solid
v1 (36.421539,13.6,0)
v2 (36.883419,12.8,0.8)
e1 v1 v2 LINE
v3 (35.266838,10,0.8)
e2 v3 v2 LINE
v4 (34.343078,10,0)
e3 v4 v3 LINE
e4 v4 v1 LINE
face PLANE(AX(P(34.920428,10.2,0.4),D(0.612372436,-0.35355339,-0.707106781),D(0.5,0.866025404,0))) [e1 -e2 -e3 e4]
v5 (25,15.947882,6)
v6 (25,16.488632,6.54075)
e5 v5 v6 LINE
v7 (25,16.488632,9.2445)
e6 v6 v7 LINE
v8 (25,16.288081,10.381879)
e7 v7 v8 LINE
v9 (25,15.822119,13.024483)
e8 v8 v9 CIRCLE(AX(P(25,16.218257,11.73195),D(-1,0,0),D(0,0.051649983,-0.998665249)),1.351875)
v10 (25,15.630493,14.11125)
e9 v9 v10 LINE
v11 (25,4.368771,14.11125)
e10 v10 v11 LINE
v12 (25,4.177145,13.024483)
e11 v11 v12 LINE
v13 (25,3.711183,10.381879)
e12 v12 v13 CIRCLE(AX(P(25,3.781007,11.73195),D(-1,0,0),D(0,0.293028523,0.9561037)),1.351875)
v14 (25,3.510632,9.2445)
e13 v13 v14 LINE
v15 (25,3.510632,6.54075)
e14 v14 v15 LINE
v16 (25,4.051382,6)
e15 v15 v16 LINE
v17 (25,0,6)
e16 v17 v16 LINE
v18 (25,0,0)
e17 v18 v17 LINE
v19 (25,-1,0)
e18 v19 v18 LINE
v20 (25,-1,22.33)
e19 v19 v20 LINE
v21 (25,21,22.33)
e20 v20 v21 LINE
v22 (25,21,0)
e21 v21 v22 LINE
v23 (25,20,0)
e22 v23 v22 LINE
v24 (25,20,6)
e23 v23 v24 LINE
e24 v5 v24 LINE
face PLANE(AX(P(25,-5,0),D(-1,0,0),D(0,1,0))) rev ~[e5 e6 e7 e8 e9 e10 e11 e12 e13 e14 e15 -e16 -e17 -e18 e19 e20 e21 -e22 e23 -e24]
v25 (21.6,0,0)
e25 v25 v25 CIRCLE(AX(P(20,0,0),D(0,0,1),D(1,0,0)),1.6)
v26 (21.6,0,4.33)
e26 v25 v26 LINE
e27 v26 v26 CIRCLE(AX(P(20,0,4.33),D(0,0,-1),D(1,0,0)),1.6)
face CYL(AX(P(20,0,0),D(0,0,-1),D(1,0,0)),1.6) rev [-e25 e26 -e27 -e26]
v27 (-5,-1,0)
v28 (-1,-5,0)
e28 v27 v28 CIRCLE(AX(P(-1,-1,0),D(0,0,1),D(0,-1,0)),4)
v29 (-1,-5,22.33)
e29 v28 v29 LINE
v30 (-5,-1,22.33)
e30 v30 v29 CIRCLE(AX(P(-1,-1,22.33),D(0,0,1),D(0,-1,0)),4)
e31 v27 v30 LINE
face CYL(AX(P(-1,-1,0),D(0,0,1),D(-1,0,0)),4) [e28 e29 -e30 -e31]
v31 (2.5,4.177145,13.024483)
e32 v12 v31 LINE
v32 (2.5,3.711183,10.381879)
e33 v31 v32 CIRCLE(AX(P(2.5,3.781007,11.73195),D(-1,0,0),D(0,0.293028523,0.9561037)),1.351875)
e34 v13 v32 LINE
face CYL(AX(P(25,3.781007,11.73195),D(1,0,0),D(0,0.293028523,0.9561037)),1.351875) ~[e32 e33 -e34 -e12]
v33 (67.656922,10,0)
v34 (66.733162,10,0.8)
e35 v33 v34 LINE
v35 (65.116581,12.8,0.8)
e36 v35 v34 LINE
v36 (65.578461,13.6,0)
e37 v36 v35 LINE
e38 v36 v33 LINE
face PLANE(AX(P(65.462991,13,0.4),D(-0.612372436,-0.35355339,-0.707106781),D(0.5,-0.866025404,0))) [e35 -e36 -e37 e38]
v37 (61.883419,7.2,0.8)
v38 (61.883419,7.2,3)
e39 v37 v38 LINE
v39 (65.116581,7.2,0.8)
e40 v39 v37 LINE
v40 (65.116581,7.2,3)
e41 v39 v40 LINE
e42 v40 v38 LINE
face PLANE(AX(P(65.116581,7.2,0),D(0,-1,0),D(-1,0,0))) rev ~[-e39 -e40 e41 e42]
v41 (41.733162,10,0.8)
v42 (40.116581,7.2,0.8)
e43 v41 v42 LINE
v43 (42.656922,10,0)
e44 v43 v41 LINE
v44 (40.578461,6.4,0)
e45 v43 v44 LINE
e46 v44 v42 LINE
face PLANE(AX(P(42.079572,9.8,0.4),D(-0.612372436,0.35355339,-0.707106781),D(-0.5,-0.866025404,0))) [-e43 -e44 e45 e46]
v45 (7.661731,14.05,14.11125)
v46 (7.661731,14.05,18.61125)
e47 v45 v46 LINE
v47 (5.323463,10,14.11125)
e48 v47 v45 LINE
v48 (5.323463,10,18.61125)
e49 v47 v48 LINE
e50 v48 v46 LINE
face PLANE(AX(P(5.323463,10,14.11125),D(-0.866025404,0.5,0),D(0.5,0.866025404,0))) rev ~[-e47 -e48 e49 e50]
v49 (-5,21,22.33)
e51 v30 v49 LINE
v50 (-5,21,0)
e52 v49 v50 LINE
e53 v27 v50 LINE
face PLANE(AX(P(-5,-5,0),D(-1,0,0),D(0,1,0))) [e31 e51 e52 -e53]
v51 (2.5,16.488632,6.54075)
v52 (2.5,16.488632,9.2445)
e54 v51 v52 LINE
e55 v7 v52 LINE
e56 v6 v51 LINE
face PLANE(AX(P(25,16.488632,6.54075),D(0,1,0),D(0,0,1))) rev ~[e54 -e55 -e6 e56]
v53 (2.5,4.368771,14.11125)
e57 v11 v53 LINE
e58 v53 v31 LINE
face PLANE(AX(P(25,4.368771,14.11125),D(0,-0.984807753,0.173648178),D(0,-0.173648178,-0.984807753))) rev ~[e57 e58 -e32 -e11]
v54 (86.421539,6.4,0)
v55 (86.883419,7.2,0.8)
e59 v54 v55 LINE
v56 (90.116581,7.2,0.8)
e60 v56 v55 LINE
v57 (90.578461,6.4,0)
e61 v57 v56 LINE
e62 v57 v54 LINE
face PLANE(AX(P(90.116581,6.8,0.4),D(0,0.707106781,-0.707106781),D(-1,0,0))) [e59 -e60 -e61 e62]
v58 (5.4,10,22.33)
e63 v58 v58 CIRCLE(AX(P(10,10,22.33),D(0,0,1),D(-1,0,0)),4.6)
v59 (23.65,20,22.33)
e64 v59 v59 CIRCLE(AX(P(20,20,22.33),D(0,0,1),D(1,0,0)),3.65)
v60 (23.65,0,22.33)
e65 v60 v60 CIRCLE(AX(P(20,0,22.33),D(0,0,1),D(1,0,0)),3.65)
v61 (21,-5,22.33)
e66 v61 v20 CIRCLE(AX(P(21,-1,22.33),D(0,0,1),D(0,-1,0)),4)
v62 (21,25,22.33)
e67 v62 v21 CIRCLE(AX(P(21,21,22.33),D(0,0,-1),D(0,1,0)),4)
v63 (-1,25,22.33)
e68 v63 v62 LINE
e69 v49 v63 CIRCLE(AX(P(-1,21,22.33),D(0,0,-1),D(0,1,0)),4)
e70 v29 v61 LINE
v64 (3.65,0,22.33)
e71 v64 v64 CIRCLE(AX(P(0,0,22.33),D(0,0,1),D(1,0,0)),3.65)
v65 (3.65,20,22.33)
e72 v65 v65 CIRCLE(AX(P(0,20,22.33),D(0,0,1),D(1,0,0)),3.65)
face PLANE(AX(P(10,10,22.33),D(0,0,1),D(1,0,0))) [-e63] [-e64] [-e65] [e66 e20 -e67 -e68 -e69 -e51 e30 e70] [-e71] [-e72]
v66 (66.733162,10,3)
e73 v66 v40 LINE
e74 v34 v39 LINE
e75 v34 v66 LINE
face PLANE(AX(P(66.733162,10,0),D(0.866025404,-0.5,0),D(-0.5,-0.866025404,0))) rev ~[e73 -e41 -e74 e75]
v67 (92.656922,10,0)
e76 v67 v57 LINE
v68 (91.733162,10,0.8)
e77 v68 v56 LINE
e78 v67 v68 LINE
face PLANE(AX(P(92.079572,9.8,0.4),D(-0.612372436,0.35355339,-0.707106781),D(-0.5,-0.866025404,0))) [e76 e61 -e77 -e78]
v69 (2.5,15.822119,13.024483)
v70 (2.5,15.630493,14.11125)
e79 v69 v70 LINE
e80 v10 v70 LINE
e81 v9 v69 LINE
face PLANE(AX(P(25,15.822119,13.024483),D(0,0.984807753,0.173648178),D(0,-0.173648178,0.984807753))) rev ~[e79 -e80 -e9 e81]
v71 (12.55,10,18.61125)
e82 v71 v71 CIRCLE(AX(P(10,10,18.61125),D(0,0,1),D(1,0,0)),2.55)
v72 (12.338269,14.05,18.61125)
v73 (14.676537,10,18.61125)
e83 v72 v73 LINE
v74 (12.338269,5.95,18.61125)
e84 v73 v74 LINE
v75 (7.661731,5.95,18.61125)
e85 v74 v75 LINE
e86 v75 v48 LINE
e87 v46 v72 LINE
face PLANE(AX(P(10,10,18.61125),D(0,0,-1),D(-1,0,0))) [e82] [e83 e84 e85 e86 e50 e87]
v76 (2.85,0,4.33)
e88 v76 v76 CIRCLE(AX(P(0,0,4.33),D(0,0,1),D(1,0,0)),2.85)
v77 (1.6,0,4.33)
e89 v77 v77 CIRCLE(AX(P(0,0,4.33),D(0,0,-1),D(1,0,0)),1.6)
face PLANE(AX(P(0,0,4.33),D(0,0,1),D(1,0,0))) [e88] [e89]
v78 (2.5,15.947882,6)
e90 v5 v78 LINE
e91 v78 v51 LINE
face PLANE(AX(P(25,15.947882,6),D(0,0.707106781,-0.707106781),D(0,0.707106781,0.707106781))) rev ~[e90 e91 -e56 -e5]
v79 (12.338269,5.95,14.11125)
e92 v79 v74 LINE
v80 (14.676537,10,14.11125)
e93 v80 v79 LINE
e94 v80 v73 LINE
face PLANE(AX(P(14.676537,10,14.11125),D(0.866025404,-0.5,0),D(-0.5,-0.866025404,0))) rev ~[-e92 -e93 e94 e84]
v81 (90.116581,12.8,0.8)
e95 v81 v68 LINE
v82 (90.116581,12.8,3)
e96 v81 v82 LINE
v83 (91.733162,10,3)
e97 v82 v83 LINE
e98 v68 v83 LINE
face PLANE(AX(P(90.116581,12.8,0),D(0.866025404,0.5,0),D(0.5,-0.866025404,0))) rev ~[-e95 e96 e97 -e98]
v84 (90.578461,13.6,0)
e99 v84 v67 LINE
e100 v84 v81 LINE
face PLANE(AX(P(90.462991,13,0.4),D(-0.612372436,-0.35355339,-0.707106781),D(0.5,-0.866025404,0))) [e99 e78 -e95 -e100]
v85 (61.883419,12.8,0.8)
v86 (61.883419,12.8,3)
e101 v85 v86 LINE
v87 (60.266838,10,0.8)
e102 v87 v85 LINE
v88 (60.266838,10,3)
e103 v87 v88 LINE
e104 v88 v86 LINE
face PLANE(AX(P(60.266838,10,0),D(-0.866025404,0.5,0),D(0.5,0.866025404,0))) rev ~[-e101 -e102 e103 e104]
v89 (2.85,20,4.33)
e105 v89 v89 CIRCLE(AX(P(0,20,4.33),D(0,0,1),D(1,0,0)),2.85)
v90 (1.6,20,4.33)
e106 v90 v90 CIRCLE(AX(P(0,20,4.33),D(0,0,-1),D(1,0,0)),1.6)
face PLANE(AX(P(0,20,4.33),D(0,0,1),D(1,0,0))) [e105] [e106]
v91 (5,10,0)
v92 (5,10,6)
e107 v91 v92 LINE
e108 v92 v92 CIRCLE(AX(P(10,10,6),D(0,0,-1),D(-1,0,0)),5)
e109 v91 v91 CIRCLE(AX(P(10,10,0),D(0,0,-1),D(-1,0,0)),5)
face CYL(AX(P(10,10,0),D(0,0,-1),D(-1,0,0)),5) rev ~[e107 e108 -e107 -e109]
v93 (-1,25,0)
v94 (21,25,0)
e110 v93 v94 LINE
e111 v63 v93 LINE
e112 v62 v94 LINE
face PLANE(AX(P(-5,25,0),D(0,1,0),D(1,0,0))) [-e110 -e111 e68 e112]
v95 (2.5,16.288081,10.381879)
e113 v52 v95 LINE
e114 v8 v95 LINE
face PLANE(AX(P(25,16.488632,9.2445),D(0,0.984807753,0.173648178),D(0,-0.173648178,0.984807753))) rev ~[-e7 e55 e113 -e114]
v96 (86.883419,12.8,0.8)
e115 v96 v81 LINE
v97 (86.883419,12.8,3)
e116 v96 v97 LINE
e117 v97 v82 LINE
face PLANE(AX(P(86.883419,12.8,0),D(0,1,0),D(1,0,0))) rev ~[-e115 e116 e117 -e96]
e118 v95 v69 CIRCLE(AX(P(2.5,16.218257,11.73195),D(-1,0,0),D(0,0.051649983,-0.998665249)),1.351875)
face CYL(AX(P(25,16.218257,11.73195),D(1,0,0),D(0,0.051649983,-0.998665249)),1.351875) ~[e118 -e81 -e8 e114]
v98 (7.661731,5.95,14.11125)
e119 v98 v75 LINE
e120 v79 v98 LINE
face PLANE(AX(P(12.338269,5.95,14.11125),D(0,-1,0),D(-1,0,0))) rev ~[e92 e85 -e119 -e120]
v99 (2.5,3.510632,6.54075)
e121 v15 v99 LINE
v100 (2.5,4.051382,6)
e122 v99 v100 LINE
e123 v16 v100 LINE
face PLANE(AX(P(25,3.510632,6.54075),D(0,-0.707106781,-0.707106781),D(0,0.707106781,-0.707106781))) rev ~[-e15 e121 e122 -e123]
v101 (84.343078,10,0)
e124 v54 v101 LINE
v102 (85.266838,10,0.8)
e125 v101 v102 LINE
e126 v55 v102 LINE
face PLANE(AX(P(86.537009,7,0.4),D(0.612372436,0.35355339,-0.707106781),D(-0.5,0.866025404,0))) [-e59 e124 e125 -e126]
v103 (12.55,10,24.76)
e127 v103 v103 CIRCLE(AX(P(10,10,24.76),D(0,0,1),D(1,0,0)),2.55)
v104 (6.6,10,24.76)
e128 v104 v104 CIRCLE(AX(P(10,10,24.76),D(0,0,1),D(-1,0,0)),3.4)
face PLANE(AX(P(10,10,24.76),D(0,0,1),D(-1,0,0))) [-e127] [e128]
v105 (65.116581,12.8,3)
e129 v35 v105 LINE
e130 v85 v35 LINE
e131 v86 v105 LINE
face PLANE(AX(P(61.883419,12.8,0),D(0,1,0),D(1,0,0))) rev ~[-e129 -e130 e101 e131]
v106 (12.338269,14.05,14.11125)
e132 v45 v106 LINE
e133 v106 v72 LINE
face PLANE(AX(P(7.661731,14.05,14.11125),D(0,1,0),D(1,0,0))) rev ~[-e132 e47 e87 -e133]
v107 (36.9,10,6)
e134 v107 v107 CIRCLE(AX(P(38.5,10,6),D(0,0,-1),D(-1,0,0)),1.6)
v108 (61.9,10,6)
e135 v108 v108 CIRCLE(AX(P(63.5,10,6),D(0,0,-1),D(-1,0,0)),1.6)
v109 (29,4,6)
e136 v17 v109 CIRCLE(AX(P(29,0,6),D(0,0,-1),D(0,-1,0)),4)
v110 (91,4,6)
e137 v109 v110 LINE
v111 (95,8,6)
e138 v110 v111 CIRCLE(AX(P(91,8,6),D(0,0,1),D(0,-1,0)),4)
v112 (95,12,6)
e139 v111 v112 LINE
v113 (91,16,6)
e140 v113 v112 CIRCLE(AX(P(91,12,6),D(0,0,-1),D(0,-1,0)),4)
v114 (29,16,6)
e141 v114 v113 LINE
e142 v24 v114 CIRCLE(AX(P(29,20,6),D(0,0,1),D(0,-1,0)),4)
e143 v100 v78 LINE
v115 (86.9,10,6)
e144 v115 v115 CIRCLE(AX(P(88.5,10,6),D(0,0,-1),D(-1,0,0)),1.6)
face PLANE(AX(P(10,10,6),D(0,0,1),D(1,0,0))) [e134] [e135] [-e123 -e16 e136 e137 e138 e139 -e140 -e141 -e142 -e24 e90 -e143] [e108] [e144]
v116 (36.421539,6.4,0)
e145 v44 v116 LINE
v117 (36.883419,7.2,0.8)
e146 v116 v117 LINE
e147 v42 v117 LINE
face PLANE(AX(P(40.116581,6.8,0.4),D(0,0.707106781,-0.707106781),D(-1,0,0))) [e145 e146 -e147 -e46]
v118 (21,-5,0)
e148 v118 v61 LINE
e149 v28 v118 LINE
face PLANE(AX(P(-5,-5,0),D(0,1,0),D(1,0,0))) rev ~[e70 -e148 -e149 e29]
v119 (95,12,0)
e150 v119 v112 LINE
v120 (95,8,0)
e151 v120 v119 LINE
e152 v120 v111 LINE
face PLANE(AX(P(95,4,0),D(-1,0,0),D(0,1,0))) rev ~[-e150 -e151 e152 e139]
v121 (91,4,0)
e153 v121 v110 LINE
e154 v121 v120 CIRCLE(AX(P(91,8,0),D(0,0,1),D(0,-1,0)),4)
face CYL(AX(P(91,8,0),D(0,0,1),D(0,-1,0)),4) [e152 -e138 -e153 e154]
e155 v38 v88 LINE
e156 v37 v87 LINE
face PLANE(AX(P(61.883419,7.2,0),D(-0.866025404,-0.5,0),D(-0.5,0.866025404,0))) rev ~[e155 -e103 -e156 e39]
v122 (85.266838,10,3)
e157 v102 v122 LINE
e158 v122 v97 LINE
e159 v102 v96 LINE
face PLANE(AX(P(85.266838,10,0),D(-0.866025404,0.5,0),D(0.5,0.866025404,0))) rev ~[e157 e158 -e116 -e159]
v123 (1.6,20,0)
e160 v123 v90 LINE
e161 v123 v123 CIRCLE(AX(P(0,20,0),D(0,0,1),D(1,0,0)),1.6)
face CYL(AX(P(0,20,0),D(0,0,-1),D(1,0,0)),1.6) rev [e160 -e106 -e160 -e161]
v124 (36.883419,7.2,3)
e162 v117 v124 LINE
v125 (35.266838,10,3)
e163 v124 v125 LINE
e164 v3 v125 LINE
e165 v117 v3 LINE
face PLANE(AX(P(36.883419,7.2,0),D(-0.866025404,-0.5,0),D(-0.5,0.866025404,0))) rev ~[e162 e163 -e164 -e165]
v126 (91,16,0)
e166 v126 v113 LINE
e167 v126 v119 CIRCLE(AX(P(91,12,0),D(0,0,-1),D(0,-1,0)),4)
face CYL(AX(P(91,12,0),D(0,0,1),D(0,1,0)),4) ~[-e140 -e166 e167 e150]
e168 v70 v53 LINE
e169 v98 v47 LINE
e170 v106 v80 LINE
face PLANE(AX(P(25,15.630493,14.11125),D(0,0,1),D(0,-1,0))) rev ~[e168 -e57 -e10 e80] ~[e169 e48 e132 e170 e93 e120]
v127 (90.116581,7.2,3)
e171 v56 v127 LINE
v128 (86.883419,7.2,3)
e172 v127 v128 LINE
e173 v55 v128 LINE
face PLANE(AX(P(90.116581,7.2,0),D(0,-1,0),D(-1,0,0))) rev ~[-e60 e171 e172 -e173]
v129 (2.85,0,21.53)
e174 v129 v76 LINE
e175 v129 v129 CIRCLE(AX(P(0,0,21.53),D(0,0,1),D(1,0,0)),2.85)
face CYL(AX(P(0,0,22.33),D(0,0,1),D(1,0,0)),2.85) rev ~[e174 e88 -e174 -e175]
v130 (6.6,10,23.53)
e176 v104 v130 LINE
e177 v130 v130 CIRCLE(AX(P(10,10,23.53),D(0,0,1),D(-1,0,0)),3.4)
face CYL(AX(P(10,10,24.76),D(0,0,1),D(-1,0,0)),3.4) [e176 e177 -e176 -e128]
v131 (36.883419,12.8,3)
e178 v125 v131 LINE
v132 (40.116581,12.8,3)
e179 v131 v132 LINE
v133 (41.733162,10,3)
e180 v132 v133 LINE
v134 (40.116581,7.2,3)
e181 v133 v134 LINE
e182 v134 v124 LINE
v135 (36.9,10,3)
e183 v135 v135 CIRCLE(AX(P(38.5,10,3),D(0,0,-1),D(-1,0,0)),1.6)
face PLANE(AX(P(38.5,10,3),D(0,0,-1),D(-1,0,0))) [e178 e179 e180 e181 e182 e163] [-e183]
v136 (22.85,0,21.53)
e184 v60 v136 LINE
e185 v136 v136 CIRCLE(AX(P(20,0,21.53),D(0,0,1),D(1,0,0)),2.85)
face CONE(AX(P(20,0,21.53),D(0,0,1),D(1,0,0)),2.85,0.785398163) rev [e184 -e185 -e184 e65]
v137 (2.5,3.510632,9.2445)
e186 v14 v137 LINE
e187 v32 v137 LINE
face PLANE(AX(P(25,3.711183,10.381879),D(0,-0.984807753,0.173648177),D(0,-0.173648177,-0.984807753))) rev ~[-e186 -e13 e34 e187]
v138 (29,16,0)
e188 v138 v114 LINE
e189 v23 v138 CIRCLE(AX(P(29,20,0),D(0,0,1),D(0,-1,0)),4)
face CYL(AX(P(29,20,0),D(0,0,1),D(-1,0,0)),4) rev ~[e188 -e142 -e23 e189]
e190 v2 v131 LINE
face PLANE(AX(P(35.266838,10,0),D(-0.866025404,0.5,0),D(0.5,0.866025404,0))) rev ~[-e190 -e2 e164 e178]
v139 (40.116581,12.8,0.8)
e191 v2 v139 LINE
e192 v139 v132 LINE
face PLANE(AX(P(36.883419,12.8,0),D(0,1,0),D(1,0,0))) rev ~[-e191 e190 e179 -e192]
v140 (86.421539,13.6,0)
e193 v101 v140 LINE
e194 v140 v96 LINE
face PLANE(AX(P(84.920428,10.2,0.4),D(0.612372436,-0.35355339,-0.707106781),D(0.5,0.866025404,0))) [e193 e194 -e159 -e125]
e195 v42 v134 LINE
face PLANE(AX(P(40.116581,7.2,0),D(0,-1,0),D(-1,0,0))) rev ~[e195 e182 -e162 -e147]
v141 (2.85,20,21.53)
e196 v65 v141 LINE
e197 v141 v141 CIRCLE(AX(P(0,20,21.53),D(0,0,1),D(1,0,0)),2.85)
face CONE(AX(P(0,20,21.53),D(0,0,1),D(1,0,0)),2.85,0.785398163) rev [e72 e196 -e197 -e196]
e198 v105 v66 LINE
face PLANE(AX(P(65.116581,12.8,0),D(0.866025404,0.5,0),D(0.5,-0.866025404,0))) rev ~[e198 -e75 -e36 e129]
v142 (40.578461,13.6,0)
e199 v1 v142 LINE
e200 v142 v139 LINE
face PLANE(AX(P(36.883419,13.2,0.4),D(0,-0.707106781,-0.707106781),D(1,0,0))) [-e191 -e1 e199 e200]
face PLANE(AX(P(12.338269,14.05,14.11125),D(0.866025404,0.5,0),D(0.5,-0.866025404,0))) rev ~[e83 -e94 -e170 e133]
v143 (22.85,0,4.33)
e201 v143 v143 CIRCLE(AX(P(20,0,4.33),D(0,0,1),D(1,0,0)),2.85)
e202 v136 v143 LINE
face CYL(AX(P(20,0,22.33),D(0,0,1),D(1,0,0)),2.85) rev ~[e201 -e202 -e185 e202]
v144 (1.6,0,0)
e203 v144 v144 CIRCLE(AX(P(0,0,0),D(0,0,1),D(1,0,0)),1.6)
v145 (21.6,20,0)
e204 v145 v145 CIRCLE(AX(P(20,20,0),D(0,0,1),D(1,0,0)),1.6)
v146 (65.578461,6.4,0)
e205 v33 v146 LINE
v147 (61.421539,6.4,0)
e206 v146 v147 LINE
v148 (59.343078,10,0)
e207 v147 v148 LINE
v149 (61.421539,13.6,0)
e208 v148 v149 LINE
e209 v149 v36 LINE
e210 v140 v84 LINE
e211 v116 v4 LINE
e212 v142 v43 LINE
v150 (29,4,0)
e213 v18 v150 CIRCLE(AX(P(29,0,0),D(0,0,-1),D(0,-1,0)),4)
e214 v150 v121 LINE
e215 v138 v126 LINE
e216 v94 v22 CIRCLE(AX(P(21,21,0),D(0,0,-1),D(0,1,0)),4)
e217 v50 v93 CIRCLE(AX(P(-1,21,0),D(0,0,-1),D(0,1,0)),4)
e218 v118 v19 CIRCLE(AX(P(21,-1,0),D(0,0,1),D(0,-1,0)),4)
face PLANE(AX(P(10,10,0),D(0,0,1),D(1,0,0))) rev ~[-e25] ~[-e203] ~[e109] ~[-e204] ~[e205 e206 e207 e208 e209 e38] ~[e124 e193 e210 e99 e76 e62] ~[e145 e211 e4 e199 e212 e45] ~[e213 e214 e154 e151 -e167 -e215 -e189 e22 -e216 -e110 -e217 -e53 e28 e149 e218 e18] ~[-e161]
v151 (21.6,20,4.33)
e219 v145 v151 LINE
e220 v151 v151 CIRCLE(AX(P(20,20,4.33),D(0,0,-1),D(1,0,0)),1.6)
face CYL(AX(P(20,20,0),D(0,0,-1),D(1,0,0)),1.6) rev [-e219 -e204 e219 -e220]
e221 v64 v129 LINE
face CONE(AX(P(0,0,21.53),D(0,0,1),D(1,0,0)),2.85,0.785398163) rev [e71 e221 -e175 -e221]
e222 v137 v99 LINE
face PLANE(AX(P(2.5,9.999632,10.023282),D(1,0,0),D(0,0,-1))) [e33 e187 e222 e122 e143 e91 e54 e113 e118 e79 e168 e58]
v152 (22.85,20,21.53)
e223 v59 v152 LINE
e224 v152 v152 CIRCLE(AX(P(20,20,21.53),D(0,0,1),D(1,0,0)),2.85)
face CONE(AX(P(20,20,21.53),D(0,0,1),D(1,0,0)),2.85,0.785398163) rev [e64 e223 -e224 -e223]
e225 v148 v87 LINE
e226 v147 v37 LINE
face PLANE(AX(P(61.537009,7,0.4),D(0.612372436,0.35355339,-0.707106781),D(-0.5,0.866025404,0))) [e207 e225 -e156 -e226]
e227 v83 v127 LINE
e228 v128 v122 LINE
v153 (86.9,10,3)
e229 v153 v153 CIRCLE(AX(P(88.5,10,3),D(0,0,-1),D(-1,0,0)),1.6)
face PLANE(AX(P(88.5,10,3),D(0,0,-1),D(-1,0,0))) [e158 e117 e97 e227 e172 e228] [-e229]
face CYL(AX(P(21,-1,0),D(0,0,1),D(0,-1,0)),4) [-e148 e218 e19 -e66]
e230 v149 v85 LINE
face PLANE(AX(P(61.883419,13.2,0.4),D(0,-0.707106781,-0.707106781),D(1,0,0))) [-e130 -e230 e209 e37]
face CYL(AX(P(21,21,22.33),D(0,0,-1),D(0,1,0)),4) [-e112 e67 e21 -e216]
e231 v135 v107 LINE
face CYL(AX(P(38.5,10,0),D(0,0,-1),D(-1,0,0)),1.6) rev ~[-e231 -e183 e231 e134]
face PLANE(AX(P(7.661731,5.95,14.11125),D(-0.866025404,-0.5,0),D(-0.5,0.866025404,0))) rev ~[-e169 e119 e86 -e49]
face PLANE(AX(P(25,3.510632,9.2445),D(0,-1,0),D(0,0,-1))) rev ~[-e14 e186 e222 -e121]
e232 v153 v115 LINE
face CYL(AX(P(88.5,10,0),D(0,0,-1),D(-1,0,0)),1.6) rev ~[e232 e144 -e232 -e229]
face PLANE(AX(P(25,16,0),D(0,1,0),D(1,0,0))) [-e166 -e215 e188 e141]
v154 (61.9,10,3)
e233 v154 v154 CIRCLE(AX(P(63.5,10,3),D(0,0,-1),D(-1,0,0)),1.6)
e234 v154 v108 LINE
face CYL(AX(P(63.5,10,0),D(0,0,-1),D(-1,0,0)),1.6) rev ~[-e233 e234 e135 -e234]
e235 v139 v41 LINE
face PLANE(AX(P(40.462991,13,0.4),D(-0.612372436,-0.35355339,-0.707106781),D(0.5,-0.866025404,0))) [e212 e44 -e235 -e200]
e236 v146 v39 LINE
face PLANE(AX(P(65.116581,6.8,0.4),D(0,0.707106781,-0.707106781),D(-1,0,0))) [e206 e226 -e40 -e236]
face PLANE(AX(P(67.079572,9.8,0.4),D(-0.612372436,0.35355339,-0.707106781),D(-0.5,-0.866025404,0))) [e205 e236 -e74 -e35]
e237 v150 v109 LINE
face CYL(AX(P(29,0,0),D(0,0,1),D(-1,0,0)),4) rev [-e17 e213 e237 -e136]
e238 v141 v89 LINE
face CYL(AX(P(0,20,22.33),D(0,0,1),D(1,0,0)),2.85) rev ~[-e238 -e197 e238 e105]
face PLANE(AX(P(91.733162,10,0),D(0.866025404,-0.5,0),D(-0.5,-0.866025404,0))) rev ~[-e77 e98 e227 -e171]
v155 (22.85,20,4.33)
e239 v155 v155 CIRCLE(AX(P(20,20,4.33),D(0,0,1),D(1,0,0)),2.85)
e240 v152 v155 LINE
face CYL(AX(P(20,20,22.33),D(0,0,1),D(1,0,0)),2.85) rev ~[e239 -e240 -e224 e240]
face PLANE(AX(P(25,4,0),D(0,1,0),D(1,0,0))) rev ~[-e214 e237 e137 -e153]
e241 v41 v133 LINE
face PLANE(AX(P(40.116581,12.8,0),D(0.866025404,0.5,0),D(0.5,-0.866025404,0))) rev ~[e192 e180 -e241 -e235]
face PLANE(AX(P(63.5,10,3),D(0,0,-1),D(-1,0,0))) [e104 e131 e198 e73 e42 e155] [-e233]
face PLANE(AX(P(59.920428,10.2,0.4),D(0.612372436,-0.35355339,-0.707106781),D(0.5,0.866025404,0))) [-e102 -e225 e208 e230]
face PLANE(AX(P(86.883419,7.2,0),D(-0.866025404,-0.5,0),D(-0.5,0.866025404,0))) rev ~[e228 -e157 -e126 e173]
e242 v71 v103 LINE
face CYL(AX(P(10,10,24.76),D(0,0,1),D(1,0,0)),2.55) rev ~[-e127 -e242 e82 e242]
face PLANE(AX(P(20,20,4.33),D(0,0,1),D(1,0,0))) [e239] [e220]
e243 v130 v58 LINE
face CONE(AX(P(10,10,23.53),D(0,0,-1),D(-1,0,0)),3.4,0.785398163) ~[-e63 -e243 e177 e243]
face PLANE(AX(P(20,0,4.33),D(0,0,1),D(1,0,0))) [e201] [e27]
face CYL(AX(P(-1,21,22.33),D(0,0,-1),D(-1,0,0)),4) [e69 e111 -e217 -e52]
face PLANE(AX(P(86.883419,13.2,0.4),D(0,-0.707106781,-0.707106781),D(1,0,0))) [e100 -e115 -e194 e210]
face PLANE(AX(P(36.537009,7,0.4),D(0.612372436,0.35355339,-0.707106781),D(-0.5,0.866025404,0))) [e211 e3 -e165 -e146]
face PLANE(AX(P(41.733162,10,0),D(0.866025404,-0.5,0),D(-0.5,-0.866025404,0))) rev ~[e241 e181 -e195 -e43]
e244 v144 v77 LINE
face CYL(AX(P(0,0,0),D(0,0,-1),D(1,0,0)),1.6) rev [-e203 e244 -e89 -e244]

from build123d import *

# Parameters (mm, degrees)
SKETCH1_R                  = 1.6
BOSS_EXTRUDE1_DEPTH        = 6
SKETCH1_3_R                = 1.6
BOSS_EXTRUDE2_DEPTH        = 22.33
CUT_EXTRUDE1_DEPTH         = 22.5
SKETCH3_R                  = 2.55
CUT_EXTRUDE2_DEPTH         = 8
CUT_EXTRUDE3_DEPTH         = 4.5
SKETCH6_R                  = 5
CUT_EXTRUDE5_DEPTH         = 8.6
SKETCH7_R                  = 1.6
CUT_EXTRUDE6_DEPTH         = 101.740403513
SKETCH8_R                  = 2.85
CUT_EXTRUDE7_DEPTH         = 18
BOSS_EXTRUDE3_START        = 2.43
SKETCH9_R                  = 3.4
SKETCH9_R_2                = 2.55
BOSS_EXTRUDE3_DEPTH        = 2.43
CHAMFER1_SIZE              = 1.2
FILLET3_R                  = 4
CHAMFER2_SIZE              = 0.8
CUT_EXTRUDE8_DEPTH         = 3
CHAMFER3_SIZE              = 0.8
LPATTERN1_COUNT            = 3
LPATTERN1_PITCH            = 25
CHAMFER3_OF_LPATTERN1_SIZE = 0.8


with BuildPart() as part:
    # Sketch1 → Boss-Extrude1 (new body)
    with BuildSketch(Plane.XY):
        Polygon((-5, 25), (-5, -5), (25, -5), (25, 4), (95, 4), (95, 16), (25, 16), (25, 25), align=None)
        Circle(SKETCH1_R, mode=Mode.SUBTRACT)
        with Locations((20, 0)):
            Circle(SKETCH1_R, mode=Mode.SUBTRACT)
        with Locations((0, 20)):
            Circle(SKETCH1_R, mode=Mode.SUBTRACT)
        with Locations((20, 20)):
            Circle(SKETCH1_R, mode=Mode.SUBTRACT)
    extrude(amount=BOSS_EXTRUDE1_DEPTH)

    # Sketch1<3> → Boss-Extrude2 (add)
    with BuildSketch(Plane.XY):
        Polygon((-5, 25), (-5, -5), (25, -5), (25, 4), (25, 16), (25, 25), align=None)
        Circle(SKETCH1_3_R, mode=Mode.SUBTRACT)
        with Locations((20, 0)):
            Circle(SKETCH1_3_R, mode=Mode.SUBTRACT)
        with Locations((0, 20)):
            Circle(SKETCH1_3_R, mode=Mode.SUBTRACT)
        with Locations((20, 20)):
            Circle(SKETCH1_3_R, mode=Mode.SUBTRACT)
    extrude(amount=BOSS_EXTRUDE2_DEPTH)

    # Sketch2 → Cut-Extrude1 (cut)
    with BuildSketch(Plane(origin=(25, 0, 0), x_dir=(0, 0, -1), z_dir=(1, 0, 0))):
        with BuildLine():
            Line((-6.54075, 16.488632043), (-9.2445, 16.488632043))
            Line((-9.2445, 16.488632043), (-10.381879417, 16.288081364))
            ThreePointArc((-10.381879417, 16.288081364), (-11.49719937, 14.886920062), (-13.024482689, 15.822119108))
            Line((-13.024482689, 15.822119108), (-14.11125, 15.630492709))
            Line((-14.11125, 15.630492709), (-14.11125, 4.368771376))
            Line((-14.11125, 4.368771376), (-13.024482689, 4.177144977))
            ThreePointArc((-13.024482689, 4.177144977), (-11.49719937, 5.112344024), (-10.381879417, 3.711182721))
            Line((-10.381879417, 3.711182721), (-9.2445, 3.510632043))
            Line((-9.2445, 3.510632043), (-6.54075, 3.510632043))
            Line((-6.54075, 3.510632043), (-6, 4.051382043))
            Line((-6, 4.051382043), (-6, 15.947882043))
            Line((-6, 15.947882043), (-6.54075, 16.488632043))
        make_face()
    extrude(amount=-CUT_EXTRUDE1_DEPTH, mode=Mode.SUBTRACT)

    # Sketch3 → Cut-Extrude2 (cut)
    with BuildSketch(Plane.XY.offset(22.33)):
        with Locations((10, 10)):
            Circle(SKETCH3_R)
    extrude(amount=-CUT_EXTRUDE2_DEPTH, mode=Mode.SUBTRACT)

    # Sketch5 → Cut-Extrude3 (cut)
    with BuildSketch(Plane(origin=(0, 0, 14.11125), x_dir=(-1, 0, 0), z_dir=(0, 0, -1))):
        Polygon((-5.32346282, 10), (-7.66173141, 14.05), (-12.33826859, 14.05), (-14.67653718, 10), (-12.33826859, 5.95), (-7.66173141, 5.95), align=None)
    extrude(amount=-CUT_EXTRUDE3_DEPTH, mode=Mode.SUBTRACT)

    # Sketch6 → Cut-Extrude5 (cut)
    with BuildSketch(Plane(origin=(0, 0, 0), x_dir=(-1, 0, 0), z_dir=(0, 0, -1))):
        with Locations((-10, 10)):
            Circle(SKETCH6_R)
    extrude(amount=-CUT_EXTRUDE5_DEPTH, mode=Mode.SUBTRACT)

    # Sketch7 → Cut-Extrude6 (cut, through all)
    with BuildSketch(Plane(origin=(0, 0, 0), x_dir=(-1, 0, 0), z_dir=(0, 0, -1))):
        with Locations((-88.5, 10)):
            Circle(SKETCH7_R)
        with Locations((-38.5, 10)):
            Circle(SKETCH7_R)
        with Locations((-63.5, 10)):
            Circle(SKETCH7_R)
    extrude(amount=-CUT_EXTRUDE6_DEPTH, mode=Mode.SUBTRACT)

    # Sketch8 → Cut-Extrude7 (cut)
    with BuildSketch(Plane.XY.offset(22.33)):
        with Locations((20, 20)):
            Circle(SKETCH8_R)
        with Locations((20, 0)):
            Circle(SKETCH8_R)
        Circle(SKETCH8_R)
        with Locations((0, 20)):
            Circle(SKETCH8_R)
    extrude(amount=-CUT_EXTRUDE7_DEPTH, mode=Mode.SUBTRACT)

    # Sketch9 → Boss-Extrude3 (add)
    with BuildSketch(Plane.XY.offset(22.33).offset(BOSS_EXTRUDE3_START)):
        with Locations((10, 10)):
            Circle(SKETCH9_R)
        with Locations((10, 10)):
            Circle(SKETCH9_R_2, mode=Mode.SUBTRACT)
    extrude(amount=-BOSS_EXTRUDE3_DEPTH)

    # Chamfer1
    chamfer1_edges = [part.edges().sort_by_distance(p)[0] for p in [
        (6.6, 10, 22.33),
    ]]
    chamfer(chamfer1_edges, length=CHAMFER1_SIZE)

    # Fillet3
    fillet3_edges = [part.edges().sort_by_distance(p)[0] for p in [
        (25, 4, 3),
        (25, 16, 3),
        (25, 25, 11.165),
        (-5, 25, 11.165),
        (-5, -5, 11.165),
        (25, -5, 11.165),
        (95, 4, 3),
        (95, 16, 3),
    ]]
    fillet(fillet3_edges, radius=FILLET3_R)

    # Chamfer2
    chamfer2_edges = [part.edges().sort_by_distance(p)[0] for p in [
        (17.15, 0, 22.33),
        (-2.85, 0, 22.33),
        (-2.85, 20, 22.33),
        (17.15, 20, 22.33),
    ]]
    chamfer(chamfer2_edges, length=CHAMFER2_SIZE)

    # Sketch10 → Cut-Extrude8 (cut)
    with BuildSketch(Plane(origin=(0, 0, 0), x_dir=(-1, 0, 0), z_dir=(0, 0, -1))):
        Polygon((-85.266838493, 10), (-86.883419246, 12.8), (-90.116580754, 12.8), (-91.733161507, 10), (-90.116580754, 7.2), (-86.883419246, 7.2), align=None)
    cut_extrude8 = extrude(amount=-CUT_EXTRUDE8_DEPTH, mode=Mode.SUBTRACT)

    # Chamfer3
    chamfer3_edges = [part.edges().sort_by_distance(p)[0] for p in [
        (86.075128869, 8.6, 0),
        (88.5, 7.2, 0),
        (90.924871131, 8.6, 0),
        (90.924871131, 11.4, 0),
        (86.075128869, 11.4, 0),
        (88.5, 12.8, 0),
    ]]
    chamfer(chamfer3_edges, length=CHAMFER3_SIZE)

    # LPattern1: Cut-Extrude8 ×3
    with Locations(*[(-i * LPATTERN1_PITCH, 0, 0) for i in range(1, LPATTERN1_COUNT)]):
        add(cut_extrude8, mode=Mode.SUBTRACT)

    # Chamfer3 of LPattern1
    chamfer3_of_lpattern1_edges = [part.edges().sort_by_distance(p)[0] for p in [
        (61.075128869, 8.6, 0),
        (63.5, 7.2, 0),
        (65.924871131, 8.6, 0),
        (65.924871131, 11.4, 0),
        (61.075128869, 11.4, 0),
        (63.5, 12.8, 0),
        (36.075128869, 8.6, 0),
        (38.5, 7.2, 0),
        (40.924871131, 8.6, 0),
        (40.924871131, 11.4, 0),
        (36.075128869, 11.4, 0),
        (38.5, 12.8, 0),
    ]]
    chamfer(chamfer3_of_lpattern1_edges, length=CHAMFER3_OF_LPATTERN1_SIZE)


solid = part.part
